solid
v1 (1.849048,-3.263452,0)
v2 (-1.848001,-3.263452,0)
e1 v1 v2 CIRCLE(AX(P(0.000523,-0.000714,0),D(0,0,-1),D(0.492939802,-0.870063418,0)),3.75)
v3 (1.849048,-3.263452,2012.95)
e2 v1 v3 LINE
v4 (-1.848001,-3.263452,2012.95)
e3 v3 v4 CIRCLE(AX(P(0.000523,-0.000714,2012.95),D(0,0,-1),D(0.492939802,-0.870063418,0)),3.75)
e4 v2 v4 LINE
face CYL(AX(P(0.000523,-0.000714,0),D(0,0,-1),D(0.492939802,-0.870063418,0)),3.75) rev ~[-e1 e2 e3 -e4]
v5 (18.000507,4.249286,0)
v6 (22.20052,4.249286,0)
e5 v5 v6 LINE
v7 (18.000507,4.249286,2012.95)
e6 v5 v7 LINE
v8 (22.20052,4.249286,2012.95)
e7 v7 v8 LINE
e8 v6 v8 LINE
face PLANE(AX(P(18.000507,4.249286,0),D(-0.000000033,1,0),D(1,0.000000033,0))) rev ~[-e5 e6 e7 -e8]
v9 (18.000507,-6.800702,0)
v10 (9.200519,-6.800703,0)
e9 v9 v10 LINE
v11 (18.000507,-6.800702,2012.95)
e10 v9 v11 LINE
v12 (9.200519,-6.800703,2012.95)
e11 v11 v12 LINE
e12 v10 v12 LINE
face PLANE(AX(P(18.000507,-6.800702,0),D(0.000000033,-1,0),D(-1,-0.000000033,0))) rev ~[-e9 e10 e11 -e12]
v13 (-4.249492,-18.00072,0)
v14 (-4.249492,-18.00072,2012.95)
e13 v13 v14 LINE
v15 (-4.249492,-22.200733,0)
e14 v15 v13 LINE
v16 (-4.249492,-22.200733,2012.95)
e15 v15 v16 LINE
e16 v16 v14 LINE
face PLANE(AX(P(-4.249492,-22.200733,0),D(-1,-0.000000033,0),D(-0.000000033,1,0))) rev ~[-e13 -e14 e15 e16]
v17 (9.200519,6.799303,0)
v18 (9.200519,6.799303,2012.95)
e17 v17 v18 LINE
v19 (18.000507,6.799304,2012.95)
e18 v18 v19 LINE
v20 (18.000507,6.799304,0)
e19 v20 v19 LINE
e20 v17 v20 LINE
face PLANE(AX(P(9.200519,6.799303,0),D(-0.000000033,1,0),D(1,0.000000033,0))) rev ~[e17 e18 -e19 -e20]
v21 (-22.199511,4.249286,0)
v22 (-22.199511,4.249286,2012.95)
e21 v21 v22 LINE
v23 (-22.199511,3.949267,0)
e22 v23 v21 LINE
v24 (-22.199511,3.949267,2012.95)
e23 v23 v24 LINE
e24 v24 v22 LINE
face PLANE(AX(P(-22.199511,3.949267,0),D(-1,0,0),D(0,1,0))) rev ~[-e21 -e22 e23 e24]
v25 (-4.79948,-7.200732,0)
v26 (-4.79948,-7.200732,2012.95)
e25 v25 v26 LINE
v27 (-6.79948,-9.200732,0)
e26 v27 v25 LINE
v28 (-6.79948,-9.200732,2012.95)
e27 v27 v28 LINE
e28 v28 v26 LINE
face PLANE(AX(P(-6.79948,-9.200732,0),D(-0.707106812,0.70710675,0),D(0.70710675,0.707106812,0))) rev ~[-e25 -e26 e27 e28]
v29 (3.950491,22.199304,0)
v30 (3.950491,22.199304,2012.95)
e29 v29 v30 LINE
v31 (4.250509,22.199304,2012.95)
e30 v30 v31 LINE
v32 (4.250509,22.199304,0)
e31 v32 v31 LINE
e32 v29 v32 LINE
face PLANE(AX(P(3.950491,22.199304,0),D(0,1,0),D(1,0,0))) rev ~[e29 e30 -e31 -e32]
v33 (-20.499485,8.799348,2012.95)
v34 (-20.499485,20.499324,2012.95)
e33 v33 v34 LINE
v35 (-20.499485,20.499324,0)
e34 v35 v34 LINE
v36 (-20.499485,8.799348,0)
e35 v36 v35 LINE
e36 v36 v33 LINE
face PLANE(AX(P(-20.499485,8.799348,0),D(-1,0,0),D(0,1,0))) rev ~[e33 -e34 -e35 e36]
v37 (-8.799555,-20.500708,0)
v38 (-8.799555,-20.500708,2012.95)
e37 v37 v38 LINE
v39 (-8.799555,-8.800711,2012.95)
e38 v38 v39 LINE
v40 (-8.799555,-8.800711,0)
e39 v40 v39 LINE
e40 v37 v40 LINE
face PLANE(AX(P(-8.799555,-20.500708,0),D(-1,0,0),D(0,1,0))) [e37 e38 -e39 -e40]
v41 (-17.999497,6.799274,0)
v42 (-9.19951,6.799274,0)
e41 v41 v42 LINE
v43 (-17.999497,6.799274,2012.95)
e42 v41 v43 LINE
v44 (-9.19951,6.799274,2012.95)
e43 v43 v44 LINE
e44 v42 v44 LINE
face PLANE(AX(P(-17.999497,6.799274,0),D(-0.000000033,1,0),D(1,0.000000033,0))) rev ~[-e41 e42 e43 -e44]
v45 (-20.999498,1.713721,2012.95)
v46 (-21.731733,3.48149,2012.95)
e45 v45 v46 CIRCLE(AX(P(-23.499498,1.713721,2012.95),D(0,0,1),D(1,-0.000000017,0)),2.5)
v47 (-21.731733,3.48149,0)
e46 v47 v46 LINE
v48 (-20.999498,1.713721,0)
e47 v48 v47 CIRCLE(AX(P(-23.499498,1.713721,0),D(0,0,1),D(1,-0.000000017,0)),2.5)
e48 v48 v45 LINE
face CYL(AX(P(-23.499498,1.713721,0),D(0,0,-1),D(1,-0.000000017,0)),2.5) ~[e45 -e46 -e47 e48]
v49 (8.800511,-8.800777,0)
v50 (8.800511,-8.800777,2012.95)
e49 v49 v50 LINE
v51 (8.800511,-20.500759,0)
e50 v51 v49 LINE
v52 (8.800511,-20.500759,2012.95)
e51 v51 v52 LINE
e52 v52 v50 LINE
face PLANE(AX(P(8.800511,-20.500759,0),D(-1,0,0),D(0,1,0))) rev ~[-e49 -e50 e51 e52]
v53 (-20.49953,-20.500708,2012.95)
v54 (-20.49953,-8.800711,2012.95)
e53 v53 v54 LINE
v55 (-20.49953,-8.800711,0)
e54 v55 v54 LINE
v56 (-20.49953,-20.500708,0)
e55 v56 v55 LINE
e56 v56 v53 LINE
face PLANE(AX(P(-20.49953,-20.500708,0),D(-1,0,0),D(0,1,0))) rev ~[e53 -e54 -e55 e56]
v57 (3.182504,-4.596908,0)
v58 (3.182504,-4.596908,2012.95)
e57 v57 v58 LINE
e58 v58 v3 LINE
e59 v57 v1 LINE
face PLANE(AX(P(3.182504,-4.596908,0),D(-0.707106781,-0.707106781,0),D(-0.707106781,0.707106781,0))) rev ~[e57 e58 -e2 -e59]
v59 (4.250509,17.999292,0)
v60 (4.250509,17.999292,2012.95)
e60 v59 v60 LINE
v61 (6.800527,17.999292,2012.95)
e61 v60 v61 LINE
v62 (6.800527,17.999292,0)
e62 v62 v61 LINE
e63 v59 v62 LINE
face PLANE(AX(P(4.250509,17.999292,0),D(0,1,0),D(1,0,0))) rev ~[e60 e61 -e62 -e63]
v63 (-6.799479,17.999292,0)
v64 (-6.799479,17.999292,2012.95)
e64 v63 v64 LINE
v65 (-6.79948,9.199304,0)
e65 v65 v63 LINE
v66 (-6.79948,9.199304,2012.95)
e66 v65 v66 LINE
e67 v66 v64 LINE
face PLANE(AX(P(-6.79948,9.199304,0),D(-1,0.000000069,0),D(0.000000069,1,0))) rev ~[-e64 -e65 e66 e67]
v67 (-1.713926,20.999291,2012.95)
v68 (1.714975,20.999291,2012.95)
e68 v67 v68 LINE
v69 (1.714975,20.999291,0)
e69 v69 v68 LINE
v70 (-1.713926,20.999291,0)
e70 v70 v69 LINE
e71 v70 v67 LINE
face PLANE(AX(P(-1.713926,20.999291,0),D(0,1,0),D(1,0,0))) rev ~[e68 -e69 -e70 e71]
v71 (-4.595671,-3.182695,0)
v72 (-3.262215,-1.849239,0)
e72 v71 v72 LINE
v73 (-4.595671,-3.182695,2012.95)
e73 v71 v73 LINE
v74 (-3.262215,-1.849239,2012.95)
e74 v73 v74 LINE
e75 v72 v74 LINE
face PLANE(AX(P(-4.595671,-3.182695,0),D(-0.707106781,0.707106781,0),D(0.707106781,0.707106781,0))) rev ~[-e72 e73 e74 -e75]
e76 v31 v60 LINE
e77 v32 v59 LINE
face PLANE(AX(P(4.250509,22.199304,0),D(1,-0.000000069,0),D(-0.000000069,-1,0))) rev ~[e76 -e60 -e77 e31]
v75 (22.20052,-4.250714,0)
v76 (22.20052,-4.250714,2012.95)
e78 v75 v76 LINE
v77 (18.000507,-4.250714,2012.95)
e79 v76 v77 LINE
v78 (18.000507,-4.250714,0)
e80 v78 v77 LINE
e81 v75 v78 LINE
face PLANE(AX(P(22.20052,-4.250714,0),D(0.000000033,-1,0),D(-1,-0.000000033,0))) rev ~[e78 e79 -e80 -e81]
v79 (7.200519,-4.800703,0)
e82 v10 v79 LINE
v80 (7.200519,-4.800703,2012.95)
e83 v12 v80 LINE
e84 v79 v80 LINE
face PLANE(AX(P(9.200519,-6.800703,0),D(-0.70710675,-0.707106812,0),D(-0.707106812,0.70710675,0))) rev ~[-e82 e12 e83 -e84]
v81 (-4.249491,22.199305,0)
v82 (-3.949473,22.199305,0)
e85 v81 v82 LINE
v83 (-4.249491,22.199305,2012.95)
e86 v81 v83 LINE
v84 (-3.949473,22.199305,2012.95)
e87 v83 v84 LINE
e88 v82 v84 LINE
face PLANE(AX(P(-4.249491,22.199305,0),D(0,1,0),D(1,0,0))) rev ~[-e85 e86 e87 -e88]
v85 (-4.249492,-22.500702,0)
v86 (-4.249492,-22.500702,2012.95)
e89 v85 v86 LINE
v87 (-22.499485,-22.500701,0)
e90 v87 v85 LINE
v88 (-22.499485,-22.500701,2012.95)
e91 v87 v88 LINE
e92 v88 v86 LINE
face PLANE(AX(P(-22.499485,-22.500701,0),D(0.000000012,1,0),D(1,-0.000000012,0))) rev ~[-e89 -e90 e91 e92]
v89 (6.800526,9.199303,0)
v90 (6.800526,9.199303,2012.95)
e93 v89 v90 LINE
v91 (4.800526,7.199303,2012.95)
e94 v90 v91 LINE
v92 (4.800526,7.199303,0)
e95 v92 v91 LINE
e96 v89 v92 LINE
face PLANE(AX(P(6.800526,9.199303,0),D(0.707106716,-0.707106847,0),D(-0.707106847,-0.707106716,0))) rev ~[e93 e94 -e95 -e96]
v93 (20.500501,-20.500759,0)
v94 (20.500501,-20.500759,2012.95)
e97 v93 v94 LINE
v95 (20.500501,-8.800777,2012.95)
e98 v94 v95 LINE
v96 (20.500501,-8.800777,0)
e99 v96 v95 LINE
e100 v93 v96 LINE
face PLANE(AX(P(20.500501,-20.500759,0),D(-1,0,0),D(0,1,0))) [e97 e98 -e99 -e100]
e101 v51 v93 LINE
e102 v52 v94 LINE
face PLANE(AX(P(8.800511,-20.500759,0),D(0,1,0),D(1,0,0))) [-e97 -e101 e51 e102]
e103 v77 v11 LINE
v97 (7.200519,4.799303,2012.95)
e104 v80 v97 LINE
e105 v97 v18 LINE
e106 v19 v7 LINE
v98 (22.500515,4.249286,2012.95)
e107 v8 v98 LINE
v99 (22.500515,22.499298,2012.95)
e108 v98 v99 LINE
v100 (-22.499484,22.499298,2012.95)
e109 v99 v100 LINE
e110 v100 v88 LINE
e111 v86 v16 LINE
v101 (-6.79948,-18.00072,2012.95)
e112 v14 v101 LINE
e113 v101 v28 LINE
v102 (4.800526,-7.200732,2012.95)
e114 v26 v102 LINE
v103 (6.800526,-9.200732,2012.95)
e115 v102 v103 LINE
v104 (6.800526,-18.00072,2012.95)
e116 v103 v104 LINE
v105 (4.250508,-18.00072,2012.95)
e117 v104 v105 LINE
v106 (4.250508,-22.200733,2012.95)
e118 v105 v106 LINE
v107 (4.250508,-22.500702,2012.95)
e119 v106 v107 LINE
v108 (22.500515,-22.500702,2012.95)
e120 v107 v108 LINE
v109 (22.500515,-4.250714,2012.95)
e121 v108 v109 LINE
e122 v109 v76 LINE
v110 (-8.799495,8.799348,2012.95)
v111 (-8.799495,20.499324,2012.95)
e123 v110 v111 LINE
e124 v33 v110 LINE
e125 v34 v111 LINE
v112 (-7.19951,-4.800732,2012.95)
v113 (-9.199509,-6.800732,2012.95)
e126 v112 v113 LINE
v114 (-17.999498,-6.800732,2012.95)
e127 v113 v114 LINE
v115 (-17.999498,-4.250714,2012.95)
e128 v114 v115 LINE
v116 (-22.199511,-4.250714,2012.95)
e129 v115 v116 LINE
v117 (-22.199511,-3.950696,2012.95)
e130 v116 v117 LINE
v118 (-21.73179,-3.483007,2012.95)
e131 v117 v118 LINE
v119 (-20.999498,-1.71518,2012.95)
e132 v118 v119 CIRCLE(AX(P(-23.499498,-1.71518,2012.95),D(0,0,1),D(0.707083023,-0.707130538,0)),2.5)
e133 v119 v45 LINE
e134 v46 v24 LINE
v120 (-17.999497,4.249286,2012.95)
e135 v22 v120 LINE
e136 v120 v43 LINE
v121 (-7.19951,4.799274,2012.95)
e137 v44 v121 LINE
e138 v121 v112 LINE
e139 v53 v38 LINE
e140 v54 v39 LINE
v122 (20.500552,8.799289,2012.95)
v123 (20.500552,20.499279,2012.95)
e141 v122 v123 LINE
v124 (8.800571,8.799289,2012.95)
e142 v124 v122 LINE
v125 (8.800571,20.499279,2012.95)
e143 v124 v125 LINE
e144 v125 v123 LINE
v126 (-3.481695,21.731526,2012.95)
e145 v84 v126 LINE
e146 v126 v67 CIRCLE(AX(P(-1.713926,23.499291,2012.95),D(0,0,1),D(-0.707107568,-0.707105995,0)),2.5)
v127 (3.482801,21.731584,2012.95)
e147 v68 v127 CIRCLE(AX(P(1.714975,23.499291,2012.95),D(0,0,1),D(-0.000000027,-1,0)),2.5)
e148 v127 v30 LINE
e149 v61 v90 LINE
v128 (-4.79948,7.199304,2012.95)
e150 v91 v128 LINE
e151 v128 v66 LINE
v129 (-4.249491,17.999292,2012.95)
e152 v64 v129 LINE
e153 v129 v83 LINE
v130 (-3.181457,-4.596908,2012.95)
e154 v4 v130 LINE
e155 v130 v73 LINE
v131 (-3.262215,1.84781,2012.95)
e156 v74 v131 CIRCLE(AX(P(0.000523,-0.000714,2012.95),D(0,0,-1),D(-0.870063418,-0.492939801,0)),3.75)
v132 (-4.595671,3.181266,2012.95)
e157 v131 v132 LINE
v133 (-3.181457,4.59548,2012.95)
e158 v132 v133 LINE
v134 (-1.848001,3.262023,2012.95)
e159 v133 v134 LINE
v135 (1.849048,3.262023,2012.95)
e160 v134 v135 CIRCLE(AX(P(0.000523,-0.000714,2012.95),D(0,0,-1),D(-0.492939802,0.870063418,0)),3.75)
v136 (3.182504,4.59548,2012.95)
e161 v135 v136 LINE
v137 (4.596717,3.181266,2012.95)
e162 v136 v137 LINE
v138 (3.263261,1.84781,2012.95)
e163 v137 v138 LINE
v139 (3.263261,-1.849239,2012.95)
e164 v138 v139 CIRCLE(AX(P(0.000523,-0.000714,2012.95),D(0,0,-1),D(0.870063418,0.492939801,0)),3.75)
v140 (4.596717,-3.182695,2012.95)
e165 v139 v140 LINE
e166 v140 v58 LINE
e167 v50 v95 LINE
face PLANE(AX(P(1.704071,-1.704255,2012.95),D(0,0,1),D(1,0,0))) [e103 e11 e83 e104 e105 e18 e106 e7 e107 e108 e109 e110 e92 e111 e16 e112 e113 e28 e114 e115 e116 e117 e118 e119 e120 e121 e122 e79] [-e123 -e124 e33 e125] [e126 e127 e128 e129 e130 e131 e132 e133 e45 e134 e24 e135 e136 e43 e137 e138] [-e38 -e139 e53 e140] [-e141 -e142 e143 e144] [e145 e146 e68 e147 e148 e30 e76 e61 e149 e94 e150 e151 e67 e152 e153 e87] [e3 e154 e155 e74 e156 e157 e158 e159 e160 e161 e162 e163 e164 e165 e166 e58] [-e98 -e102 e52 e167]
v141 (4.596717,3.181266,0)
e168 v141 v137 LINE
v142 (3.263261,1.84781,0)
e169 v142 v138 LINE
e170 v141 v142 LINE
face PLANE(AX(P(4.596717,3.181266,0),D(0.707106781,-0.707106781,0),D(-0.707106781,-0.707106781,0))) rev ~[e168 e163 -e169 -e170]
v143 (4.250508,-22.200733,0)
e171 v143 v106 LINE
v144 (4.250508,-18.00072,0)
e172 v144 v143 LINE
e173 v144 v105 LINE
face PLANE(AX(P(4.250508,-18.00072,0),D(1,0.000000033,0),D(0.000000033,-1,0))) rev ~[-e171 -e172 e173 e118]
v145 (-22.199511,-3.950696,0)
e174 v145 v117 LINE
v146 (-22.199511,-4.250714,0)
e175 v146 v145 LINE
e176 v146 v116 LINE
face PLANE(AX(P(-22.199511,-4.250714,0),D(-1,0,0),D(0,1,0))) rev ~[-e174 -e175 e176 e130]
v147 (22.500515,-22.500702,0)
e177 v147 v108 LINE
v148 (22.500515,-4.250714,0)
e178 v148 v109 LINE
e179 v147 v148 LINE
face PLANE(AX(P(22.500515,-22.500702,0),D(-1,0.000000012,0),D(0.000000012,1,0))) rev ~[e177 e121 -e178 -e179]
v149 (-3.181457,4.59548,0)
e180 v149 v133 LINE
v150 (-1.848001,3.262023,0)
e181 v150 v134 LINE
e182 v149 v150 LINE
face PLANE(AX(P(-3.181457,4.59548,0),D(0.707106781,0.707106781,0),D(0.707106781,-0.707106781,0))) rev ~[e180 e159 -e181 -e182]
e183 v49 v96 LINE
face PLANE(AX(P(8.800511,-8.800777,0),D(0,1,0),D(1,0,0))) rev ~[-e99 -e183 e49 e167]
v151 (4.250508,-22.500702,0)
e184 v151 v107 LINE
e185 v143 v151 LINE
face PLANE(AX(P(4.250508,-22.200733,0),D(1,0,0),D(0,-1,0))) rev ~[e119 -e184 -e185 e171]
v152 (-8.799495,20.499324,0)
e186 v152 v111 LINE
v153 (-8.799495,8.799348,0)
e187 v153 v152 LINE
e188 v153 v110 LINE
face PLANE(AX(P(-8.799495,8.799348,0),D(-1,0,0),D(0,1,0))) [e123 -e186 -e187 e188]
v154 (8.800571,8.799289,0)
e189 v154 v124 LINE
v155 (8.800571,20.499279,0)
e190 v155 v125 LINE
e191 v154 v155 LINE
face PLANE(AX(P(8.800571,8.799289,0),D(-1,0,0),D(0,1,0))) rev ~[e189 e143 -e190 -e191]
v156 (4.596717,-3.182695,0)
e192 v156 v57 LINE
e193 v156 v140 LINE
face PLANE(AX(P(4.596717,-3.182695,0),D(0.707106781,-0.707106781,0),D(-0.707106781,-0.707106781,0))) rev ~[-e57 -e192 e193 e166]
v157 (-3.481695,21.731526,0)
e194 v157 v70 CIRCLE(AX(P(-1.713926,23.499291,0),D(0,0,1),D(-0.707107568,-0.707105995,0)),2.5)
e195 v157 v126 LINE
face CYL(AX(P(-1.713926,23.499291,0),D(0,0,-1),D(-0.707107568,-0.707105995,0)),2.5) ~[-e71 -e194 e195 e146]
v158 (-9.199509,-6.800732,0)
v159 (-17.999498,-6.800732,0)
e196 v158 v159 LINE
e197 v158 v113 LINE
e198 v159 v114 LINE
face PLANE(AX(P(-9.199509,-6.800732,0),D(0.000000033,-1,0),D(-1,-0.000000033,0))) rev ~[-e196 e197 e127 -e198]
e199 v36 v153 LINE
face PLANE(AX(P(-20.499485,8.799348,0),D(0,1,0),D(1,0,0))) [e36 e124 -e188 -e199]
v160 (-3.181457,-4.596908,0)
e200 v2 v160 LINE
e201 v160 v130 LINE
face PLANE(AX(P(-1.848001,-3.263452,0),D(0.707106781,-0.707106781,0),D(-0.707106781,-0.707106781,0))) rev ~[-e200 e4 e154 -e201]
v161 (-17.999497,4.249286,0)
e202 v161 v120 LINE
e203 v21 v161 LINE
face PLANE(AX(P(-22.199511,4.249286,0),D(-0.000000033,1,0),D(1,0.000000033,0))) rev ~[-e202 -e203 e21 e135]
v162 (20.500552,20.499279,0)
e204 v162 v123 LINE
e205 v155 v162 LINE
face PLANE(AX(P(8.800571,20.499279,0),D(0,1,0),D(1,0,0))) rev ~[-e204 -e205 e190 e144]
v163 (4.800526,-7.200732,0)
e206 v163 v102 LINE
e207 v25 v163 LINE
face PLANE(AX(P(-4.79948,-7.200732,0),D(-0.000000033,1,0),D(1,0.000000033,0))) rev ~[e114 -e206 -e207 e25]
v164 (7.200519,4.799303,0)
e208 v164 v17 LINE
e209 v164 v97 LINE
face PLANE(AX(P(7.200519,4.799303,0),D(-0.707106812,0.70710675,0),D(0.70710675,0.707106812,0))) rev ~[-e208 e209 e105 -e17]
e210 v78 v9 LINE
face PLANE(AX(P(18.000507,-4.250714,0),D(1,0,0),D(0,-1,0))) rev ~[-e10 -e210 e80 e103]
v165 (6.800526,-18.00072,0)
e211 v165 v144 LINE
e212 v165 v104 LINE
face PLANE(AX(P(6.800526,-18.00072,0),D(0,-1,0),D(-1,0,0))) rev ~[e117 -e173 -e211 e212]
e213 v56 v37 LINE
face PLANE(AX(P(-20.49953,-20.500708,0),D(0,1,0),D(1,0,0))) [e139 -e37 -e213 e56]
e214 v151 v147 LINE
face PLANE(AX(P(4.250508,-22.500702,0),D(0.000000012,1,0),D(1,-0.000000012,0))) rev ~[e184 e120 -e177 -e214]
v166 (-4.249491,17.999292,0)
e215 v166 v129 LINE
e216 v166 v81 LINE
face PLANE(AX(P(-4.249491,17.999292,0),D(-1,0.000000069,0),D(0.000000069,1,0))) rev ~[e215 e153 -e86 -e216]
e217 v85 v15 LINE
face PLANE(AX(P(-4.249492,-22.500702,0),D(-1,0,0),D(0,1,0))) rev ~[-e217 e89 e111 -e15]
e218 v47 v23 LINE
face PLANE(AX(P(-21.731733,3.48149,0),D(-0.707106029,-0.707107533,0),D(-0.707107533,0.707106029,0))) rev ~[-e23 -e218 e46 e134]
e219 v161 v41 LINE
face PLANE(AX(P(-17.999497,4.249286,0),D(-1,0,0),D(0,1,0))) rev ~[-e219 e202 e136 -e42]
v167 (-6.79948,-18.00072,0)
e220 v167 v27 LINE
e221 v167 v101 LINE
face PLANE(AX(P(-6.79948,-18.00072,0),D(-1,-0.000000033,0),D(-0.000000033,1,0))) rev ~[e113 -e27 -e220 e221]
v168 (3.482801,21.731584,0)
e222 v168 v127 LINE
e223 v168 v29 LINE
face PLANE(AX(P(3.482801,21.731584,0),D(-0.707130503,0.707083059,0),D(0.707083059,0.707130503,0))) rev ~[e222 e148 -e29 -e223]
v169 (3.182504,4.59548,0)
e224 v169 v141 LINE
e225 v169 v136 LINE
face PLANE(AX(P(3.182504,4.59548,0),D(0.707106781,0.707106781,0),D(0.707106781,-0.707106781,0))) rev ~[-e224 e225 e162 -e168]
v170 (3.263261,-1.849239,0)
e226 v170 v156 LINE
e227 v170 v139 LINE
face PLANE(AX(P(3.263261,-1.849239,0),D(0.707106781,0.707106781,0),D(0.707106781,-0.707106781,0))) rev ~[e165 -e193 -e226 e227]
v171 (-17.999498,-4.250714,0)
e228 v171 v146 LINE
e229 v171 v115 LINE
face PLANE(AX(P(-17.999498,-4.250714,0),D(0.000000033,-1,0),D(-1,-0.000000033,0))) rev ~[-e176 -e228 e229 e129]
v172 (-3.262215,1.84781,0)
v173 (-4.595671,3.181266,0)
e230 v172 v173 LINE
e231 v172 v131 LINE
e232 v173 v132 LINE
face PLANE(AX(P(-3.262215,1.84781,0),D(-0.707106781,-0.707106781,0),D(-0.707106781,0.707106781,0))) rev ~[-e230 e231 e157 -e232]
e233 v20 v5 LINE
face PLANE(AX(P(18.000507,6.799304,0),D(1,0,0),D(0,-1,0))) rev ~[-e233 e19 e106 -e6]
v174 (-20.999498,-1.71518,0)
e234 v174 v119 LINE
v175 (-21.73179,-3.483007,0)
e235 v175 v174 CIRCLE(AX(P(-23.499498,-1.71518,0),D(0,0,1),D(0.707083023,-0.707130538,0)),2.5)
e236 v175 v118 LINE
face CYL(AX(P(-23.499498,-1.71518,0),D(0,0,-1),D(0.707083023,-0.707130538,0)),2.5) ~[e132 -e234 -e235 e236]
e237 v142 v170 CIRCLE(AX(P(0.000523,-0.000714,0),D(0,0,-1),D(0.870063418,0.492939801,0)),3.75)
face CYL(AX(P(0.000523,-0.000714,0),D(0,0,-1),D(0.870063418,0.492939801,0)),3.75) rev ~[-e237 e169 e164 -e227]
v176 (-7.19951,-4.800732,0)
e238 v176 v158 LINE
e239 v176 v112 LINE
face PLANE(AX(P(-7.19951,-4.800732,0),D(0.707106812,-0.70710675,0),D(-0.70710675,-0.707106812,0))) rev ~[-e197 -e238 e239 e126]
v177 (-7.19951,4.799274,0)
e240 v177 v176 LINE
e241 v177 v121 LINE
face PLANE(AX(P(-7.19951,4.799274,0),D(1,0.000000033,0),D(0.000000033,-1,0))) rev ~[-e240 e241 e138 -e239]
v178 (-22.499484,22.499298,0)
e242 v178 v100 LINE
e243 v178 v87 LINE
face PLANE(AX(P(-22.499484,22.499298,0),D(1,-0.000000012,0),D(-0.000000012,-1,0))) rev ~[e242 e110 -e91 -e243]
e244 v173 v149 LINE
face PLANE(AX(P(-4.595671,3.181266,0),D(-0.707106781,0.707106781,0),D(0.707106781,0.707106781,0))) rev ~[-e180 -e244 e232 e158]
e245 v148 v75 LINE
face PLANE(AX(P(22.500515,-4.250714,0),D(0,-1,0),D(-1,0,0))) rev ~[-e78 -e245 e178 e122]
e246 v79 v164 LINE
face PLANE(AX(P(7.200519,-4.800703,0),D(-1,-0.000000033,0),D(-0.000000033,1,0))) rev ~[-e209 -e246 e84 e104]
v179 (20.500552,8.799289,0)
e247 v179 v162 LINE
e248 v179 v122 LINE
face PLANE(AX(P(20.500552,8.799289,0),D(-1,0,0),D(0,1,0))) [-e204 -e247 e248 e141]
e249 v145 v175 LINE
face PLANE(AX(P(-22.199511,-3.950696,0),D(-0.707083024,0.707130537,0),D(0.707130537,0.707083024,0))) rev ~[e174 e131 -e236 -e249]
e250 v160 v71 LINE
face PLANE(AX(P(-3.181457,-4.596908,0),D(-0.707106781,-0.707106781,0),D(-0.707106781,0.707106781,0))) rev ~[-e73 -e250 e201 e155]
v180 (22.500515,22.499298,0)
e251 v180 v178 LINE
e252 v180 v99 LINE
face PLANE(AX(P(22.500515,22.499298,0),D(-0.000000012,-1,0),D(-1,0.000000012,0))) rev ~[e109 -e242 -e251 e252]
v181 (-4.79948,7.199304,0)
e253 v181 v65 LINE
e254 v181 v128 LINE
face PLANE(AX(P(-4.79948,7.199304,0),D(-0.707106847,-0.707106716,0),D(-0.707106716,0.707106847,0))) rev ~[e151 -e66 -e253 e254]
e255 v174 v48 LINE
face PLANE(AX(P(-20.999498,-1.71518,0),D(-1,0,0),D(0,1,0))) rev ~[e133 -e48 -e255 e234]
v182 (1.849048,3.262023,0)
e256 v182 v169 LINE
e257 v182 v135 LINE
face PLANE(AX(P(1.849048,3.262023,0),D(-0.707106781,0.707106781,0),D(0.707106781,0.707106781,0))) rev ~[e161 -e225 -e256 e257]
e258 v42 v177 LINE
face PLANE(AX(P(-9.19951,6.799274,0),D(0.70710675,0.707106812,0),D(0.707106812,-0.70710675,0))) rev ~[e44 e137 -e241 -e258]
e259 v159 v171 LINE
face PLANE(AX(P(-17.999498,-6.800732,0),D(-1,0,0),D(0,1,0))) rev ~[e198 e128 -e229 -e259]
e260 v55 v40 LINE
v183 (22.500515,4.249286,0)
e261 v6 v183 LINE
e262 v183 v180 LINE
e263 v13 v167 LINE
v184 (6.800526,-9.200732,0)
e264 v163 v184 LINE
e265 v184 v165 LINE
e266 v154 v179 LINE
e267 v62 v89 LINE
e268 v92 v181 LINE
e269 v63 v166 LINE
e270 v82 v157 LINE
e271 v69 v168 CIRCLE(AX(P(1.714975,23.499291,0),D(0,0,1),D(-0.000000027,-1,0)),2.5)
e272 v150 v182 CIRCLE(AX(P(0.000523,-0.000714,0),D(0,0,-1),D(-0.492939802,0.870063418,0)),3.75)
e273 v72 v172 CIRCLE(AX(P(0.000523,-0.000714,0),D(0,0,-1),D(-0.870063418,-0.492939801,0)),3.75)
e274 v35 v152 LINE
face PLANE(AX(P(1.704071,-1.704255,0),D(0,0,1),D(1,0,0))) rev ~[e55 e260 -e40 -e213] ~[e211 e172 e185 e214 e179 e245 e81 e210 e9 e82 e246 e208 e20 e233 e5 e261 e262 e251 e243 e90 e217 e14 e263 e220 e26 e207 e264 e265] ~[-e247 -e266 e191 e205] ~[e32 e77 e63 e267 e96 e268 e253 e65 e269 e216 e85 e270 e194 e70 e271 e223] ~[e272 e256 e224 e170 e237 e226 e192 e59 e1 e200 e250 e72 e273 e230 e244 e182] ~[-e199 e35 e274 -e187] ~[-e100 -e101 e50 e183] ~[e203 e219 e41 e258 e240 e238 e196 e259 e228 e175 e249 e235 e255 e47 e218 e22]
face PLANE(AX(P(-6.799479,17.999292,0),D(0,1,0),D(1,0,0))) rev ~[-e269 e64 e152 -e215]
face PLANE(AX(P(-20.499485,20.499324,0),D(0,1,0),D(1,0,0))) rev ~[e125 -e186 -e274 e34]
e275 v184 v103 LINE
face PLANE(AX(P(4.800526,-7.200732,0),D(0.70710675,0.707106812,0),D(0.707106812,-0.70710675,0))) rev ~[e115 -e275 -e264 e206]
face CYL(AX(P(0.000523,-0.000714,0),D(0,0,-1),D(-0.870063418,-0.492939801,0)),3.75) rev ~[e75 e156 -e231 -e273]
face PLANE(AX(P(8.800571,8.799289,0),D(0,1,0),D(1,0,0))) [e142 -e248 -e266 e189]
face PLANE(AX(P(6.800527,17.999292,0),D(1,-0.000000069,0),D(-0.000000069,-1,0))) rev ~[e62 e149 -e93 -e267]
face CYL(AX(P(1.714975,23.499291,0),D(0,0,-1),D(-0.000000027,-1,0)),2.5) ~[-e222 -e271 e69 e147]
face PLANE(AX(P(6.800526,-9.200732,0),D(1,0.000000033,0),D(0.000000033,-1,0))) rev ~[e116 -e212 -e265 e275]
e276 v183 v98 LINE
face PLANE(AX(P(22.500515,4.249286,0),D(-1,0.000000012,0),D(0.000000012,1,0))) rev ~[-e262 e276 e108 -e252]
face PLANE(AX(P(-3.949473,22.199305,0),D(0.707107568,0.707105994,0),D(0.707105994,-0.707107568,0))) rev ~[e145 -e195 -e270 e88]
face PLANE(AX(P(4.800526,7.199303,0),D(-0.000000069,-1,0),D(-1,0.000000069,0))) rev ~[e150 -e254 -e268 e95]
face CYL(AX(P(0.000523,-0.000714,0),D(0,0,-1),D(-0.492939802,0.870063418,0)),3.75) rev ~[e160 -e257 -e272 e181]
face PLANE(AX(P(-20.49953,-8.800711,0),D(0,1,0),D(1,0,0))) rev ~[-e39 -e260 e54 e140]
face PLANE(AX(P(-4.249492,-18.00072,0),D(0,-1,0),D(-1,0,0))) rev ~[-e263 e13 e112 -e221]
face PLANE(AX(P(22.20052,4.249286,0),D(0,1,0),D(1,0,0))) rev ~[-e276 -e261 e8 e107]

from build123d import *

# Parameters (mm, degrees)
SKETCH1_W           = 11.699975178
SKETCH1_H           = 11.699996949
SKETCH1_W_2         = 11.699990436
SKETCH1_H_2         = 11.699981689
SKETCH1_W_3         = 11.699990437
SKETCH1_H_3         = 11.699975177
SKETCH1_W_4         = 11.699981689
SKETCH1_H_4         = 11.699990436
BOSS_EXTRUDE1_DEPTH = 2012.95


with BuildPart() as part:
    # Sketch1 → Boss-Extrude1 (new body)
    with BuildSketch(Plane.XY):
        Polygon((22.500515052, 22.499297556), (-22.499484399, 22.499298105), (-22.499484948, -22.500701346), (-4.249491942, -22.500701568), (-4.249491942, -22.200733242), (-4.24949208, -18.000719999), (-6.799479919, -18.000719999), (-6.799480207, -9.200732353), (-4.799480391, -7.200732362), (4.800525817, -7.200732047), (6.8005258, -9.200731855), (6.800526088, -18.000720263), (4.250507877, -18.000720263), (4.250508015, -22.200733153), (4.250508015, -22.500701672), (22.500514502, -22.500701895), (22.500514725, -4.250714302), (22.200520351, -4.250714302), (18.000507108, -4.25071444), (18.000507108, -6.800702279), (9.200519462, -6.800702567), (7.200519471, -4.800702751), (7.200519156, 4.799303458), (9.200518964, 6.79930344), (18.000507424, 6.799303729), (18.000507424, 4.249285514), (22.200520261, 4.249285652), (22.500514829, 4.249285652), align=None)
        with BuildLine():
            Line((-4.249491247, 17.999291576), (-4.249490956, 22.199304807))
            Line((-4.249490956, 22.199304807), (-3.949472548, 22.199304807))
            Line((-3.949472548, 22.199304807), (-3.481695222, 21.73152644))
            ThreePointArc((-3.481695222, 21.73152644), (-2.670636178, 21.189593132), (-1.713926324, 20.999291428))
            Line((-1.713926324, 20.999291428), (1.714975167, 20.999291428))
            ThreePointArc((1.714975167, 20.999291428), (2.671722509, 21.189608628), (3.482801459, 21.731583767))
            Line((3.482801459, 21.731583767), (3.950490798, 22.199304487))
            Line((3.950490798, 22.199304487), (4.250509108, 22.199304487))
            Line((4.250509108, 22.199304487), (4.250508817, 17.999291575))
            Line((4.250508817, 17.999291575), (6.800527063, 17.999291575))
            Line((6.800527063, 17.999291575), (6.800526453, 9.199302988))
            Line((6.800526453, 9.199302988), (4.800526064, 7.199302969))
            Line((4.800526064, 7.199302969), (-4.799479817, 7.199303635))
            Line((-4.799479817, 7.199303635), (-6.799479854, 9.199304042))
            Line((-6.799479854, 9.199304042), (-6.799479244, 17.999291576))
            Line((-6.799479244, 17.999291576), (-4.249491247, 17.999291576))
        make_face(mode=Mode.SUBTRACT)
        with BuildLine():
            Line((-22.199510888, 4.249285566), (-17.999497356, 4.249285704))
            Line((-17.999497356, 4.249285704), (-17.999497356, 6.79927354))
            Line((-17.999497356, 6.79927354), (-9.199509947, 6.799273828))
            Line((-9.199509947, 6.799273828), (-7.199509956, 4.799274012))
            Line((-7.199509956, 4.799274012), (-7.199509641, -4.800732197))
            Line((-7.199509641, -4.800732197), (-9.199509449, -6.800732179))
            Line((-9.199509449, -6.800732179), (-17.99949762, -6.800732468))
            Line((-17.99949762, -6.800732468), (-17.99949762, -4.250714253))
            Line((-17.99949762, -4.250714253), (-22.199510799, -4.250714391))
            Line((-22.199510799, -4.250714391), (-22.199510799, -3.950696126))
            Line((-22.199510799, -3.950696126), (-21.731790056, -3.48300681))
            ThreePointArc((-21.731790056, -3.48300681), (-21.189814855, -2.671927844), (-20.999497617, -1.71518046))
            Line((-20.999497617, -1.71518046), (-20.999497617, 1.713721031))
            ThreePointArc((-20.999497617, 1.713721031), (-21.189799286, 2.670430863), (-21.731732544, 3.481489907))
            Line((-21.731732544, 3.481489907), (-22.199510888, 3.949267256))
            Line((-22.199510888, 3.949267256), (-22.199510888, 4.249285566))
        make_face(mode=Mode.SUBTRACT)
        with Locations((-14.649542346, -14.650709384)):
            Rectangle(SKETCH1_W, SKETCH1_H, mode=Mode.SUBTRACT)
        with Locations((14.65050626, -14.650767962)):
            Rectangle(SKETCH1_W_2, SKETCH1_H_2, mode=Mode.SUBTRACT)
        with BuildLine():
            Line((-3.181457266, -4.596908447), (-4.595670829, -3.182694885))
            Line((-4.595670829, -3.182694885), (-3.26221457, -1.849238626))
            ThreePointArc((-3.26221457, -1.849238626), (-3.749476751, -0.00071437), (-3.26221457, 1.847809887))
            Line((-3.26221457, 1.847809887), (-4.595670829, 3.181266146))
            Line((-4.595670829, 3.181266146), (-3.181457266, 4.595479708))
            Line((-3.181457266, 4.595479708), (-1.848001007, 3.262023449))
            ThreePointArc((-1.848001007, 3.262023449), (0.000523249, 3.74928563), (1.849047505, 3.262023449))
            Line((1.849047505, 3.262023449), (3.182503764, 4.595479708))
            Line((3.182503764, 4.595479708), (4.596717327, 3.181266146))
            Line((4.596717327, 3.181266146), (3.263261068, 1.847809887))
            ThreePointArc((3.263261068, 1.847809887), (3.750523249, -0.00071437), (3.263261068, -1.849238626))
            Line((3.263261068, -1.849238626), (4.596717327, -3.182694885))
            Line((4.596717327, -3.182694885), (3.182503764, -4.596908447))
            Line((3.182503764, -4.596908447), (1.849047505, -3.263452188))
            ThreePointArc((1.849047505, -3.263452188), (0.000523249, -3.75071437), (-1.848001007, -3.263452188))
            Line((-1.848001007, -3.263452188), (-3.181457266, -4.596908447))
        make_face(mode=Mode.SUBTRACT)
        with Locations((-14.64949028, 14.649335967)):
            Rectangle(SKETCH1_W_3, SKETCH1_H_3, mode=Mode.SUBTRACT)
        with Locations((14.650561583, 14.6492839)):
            Rectangle(SKETCH1_W_4, SKETCH1_H_4, mode=Mode.SUBTRACT)
    extrude(amount=BOSS_EXTRUDE1_DEPTH)


solid = part.part
